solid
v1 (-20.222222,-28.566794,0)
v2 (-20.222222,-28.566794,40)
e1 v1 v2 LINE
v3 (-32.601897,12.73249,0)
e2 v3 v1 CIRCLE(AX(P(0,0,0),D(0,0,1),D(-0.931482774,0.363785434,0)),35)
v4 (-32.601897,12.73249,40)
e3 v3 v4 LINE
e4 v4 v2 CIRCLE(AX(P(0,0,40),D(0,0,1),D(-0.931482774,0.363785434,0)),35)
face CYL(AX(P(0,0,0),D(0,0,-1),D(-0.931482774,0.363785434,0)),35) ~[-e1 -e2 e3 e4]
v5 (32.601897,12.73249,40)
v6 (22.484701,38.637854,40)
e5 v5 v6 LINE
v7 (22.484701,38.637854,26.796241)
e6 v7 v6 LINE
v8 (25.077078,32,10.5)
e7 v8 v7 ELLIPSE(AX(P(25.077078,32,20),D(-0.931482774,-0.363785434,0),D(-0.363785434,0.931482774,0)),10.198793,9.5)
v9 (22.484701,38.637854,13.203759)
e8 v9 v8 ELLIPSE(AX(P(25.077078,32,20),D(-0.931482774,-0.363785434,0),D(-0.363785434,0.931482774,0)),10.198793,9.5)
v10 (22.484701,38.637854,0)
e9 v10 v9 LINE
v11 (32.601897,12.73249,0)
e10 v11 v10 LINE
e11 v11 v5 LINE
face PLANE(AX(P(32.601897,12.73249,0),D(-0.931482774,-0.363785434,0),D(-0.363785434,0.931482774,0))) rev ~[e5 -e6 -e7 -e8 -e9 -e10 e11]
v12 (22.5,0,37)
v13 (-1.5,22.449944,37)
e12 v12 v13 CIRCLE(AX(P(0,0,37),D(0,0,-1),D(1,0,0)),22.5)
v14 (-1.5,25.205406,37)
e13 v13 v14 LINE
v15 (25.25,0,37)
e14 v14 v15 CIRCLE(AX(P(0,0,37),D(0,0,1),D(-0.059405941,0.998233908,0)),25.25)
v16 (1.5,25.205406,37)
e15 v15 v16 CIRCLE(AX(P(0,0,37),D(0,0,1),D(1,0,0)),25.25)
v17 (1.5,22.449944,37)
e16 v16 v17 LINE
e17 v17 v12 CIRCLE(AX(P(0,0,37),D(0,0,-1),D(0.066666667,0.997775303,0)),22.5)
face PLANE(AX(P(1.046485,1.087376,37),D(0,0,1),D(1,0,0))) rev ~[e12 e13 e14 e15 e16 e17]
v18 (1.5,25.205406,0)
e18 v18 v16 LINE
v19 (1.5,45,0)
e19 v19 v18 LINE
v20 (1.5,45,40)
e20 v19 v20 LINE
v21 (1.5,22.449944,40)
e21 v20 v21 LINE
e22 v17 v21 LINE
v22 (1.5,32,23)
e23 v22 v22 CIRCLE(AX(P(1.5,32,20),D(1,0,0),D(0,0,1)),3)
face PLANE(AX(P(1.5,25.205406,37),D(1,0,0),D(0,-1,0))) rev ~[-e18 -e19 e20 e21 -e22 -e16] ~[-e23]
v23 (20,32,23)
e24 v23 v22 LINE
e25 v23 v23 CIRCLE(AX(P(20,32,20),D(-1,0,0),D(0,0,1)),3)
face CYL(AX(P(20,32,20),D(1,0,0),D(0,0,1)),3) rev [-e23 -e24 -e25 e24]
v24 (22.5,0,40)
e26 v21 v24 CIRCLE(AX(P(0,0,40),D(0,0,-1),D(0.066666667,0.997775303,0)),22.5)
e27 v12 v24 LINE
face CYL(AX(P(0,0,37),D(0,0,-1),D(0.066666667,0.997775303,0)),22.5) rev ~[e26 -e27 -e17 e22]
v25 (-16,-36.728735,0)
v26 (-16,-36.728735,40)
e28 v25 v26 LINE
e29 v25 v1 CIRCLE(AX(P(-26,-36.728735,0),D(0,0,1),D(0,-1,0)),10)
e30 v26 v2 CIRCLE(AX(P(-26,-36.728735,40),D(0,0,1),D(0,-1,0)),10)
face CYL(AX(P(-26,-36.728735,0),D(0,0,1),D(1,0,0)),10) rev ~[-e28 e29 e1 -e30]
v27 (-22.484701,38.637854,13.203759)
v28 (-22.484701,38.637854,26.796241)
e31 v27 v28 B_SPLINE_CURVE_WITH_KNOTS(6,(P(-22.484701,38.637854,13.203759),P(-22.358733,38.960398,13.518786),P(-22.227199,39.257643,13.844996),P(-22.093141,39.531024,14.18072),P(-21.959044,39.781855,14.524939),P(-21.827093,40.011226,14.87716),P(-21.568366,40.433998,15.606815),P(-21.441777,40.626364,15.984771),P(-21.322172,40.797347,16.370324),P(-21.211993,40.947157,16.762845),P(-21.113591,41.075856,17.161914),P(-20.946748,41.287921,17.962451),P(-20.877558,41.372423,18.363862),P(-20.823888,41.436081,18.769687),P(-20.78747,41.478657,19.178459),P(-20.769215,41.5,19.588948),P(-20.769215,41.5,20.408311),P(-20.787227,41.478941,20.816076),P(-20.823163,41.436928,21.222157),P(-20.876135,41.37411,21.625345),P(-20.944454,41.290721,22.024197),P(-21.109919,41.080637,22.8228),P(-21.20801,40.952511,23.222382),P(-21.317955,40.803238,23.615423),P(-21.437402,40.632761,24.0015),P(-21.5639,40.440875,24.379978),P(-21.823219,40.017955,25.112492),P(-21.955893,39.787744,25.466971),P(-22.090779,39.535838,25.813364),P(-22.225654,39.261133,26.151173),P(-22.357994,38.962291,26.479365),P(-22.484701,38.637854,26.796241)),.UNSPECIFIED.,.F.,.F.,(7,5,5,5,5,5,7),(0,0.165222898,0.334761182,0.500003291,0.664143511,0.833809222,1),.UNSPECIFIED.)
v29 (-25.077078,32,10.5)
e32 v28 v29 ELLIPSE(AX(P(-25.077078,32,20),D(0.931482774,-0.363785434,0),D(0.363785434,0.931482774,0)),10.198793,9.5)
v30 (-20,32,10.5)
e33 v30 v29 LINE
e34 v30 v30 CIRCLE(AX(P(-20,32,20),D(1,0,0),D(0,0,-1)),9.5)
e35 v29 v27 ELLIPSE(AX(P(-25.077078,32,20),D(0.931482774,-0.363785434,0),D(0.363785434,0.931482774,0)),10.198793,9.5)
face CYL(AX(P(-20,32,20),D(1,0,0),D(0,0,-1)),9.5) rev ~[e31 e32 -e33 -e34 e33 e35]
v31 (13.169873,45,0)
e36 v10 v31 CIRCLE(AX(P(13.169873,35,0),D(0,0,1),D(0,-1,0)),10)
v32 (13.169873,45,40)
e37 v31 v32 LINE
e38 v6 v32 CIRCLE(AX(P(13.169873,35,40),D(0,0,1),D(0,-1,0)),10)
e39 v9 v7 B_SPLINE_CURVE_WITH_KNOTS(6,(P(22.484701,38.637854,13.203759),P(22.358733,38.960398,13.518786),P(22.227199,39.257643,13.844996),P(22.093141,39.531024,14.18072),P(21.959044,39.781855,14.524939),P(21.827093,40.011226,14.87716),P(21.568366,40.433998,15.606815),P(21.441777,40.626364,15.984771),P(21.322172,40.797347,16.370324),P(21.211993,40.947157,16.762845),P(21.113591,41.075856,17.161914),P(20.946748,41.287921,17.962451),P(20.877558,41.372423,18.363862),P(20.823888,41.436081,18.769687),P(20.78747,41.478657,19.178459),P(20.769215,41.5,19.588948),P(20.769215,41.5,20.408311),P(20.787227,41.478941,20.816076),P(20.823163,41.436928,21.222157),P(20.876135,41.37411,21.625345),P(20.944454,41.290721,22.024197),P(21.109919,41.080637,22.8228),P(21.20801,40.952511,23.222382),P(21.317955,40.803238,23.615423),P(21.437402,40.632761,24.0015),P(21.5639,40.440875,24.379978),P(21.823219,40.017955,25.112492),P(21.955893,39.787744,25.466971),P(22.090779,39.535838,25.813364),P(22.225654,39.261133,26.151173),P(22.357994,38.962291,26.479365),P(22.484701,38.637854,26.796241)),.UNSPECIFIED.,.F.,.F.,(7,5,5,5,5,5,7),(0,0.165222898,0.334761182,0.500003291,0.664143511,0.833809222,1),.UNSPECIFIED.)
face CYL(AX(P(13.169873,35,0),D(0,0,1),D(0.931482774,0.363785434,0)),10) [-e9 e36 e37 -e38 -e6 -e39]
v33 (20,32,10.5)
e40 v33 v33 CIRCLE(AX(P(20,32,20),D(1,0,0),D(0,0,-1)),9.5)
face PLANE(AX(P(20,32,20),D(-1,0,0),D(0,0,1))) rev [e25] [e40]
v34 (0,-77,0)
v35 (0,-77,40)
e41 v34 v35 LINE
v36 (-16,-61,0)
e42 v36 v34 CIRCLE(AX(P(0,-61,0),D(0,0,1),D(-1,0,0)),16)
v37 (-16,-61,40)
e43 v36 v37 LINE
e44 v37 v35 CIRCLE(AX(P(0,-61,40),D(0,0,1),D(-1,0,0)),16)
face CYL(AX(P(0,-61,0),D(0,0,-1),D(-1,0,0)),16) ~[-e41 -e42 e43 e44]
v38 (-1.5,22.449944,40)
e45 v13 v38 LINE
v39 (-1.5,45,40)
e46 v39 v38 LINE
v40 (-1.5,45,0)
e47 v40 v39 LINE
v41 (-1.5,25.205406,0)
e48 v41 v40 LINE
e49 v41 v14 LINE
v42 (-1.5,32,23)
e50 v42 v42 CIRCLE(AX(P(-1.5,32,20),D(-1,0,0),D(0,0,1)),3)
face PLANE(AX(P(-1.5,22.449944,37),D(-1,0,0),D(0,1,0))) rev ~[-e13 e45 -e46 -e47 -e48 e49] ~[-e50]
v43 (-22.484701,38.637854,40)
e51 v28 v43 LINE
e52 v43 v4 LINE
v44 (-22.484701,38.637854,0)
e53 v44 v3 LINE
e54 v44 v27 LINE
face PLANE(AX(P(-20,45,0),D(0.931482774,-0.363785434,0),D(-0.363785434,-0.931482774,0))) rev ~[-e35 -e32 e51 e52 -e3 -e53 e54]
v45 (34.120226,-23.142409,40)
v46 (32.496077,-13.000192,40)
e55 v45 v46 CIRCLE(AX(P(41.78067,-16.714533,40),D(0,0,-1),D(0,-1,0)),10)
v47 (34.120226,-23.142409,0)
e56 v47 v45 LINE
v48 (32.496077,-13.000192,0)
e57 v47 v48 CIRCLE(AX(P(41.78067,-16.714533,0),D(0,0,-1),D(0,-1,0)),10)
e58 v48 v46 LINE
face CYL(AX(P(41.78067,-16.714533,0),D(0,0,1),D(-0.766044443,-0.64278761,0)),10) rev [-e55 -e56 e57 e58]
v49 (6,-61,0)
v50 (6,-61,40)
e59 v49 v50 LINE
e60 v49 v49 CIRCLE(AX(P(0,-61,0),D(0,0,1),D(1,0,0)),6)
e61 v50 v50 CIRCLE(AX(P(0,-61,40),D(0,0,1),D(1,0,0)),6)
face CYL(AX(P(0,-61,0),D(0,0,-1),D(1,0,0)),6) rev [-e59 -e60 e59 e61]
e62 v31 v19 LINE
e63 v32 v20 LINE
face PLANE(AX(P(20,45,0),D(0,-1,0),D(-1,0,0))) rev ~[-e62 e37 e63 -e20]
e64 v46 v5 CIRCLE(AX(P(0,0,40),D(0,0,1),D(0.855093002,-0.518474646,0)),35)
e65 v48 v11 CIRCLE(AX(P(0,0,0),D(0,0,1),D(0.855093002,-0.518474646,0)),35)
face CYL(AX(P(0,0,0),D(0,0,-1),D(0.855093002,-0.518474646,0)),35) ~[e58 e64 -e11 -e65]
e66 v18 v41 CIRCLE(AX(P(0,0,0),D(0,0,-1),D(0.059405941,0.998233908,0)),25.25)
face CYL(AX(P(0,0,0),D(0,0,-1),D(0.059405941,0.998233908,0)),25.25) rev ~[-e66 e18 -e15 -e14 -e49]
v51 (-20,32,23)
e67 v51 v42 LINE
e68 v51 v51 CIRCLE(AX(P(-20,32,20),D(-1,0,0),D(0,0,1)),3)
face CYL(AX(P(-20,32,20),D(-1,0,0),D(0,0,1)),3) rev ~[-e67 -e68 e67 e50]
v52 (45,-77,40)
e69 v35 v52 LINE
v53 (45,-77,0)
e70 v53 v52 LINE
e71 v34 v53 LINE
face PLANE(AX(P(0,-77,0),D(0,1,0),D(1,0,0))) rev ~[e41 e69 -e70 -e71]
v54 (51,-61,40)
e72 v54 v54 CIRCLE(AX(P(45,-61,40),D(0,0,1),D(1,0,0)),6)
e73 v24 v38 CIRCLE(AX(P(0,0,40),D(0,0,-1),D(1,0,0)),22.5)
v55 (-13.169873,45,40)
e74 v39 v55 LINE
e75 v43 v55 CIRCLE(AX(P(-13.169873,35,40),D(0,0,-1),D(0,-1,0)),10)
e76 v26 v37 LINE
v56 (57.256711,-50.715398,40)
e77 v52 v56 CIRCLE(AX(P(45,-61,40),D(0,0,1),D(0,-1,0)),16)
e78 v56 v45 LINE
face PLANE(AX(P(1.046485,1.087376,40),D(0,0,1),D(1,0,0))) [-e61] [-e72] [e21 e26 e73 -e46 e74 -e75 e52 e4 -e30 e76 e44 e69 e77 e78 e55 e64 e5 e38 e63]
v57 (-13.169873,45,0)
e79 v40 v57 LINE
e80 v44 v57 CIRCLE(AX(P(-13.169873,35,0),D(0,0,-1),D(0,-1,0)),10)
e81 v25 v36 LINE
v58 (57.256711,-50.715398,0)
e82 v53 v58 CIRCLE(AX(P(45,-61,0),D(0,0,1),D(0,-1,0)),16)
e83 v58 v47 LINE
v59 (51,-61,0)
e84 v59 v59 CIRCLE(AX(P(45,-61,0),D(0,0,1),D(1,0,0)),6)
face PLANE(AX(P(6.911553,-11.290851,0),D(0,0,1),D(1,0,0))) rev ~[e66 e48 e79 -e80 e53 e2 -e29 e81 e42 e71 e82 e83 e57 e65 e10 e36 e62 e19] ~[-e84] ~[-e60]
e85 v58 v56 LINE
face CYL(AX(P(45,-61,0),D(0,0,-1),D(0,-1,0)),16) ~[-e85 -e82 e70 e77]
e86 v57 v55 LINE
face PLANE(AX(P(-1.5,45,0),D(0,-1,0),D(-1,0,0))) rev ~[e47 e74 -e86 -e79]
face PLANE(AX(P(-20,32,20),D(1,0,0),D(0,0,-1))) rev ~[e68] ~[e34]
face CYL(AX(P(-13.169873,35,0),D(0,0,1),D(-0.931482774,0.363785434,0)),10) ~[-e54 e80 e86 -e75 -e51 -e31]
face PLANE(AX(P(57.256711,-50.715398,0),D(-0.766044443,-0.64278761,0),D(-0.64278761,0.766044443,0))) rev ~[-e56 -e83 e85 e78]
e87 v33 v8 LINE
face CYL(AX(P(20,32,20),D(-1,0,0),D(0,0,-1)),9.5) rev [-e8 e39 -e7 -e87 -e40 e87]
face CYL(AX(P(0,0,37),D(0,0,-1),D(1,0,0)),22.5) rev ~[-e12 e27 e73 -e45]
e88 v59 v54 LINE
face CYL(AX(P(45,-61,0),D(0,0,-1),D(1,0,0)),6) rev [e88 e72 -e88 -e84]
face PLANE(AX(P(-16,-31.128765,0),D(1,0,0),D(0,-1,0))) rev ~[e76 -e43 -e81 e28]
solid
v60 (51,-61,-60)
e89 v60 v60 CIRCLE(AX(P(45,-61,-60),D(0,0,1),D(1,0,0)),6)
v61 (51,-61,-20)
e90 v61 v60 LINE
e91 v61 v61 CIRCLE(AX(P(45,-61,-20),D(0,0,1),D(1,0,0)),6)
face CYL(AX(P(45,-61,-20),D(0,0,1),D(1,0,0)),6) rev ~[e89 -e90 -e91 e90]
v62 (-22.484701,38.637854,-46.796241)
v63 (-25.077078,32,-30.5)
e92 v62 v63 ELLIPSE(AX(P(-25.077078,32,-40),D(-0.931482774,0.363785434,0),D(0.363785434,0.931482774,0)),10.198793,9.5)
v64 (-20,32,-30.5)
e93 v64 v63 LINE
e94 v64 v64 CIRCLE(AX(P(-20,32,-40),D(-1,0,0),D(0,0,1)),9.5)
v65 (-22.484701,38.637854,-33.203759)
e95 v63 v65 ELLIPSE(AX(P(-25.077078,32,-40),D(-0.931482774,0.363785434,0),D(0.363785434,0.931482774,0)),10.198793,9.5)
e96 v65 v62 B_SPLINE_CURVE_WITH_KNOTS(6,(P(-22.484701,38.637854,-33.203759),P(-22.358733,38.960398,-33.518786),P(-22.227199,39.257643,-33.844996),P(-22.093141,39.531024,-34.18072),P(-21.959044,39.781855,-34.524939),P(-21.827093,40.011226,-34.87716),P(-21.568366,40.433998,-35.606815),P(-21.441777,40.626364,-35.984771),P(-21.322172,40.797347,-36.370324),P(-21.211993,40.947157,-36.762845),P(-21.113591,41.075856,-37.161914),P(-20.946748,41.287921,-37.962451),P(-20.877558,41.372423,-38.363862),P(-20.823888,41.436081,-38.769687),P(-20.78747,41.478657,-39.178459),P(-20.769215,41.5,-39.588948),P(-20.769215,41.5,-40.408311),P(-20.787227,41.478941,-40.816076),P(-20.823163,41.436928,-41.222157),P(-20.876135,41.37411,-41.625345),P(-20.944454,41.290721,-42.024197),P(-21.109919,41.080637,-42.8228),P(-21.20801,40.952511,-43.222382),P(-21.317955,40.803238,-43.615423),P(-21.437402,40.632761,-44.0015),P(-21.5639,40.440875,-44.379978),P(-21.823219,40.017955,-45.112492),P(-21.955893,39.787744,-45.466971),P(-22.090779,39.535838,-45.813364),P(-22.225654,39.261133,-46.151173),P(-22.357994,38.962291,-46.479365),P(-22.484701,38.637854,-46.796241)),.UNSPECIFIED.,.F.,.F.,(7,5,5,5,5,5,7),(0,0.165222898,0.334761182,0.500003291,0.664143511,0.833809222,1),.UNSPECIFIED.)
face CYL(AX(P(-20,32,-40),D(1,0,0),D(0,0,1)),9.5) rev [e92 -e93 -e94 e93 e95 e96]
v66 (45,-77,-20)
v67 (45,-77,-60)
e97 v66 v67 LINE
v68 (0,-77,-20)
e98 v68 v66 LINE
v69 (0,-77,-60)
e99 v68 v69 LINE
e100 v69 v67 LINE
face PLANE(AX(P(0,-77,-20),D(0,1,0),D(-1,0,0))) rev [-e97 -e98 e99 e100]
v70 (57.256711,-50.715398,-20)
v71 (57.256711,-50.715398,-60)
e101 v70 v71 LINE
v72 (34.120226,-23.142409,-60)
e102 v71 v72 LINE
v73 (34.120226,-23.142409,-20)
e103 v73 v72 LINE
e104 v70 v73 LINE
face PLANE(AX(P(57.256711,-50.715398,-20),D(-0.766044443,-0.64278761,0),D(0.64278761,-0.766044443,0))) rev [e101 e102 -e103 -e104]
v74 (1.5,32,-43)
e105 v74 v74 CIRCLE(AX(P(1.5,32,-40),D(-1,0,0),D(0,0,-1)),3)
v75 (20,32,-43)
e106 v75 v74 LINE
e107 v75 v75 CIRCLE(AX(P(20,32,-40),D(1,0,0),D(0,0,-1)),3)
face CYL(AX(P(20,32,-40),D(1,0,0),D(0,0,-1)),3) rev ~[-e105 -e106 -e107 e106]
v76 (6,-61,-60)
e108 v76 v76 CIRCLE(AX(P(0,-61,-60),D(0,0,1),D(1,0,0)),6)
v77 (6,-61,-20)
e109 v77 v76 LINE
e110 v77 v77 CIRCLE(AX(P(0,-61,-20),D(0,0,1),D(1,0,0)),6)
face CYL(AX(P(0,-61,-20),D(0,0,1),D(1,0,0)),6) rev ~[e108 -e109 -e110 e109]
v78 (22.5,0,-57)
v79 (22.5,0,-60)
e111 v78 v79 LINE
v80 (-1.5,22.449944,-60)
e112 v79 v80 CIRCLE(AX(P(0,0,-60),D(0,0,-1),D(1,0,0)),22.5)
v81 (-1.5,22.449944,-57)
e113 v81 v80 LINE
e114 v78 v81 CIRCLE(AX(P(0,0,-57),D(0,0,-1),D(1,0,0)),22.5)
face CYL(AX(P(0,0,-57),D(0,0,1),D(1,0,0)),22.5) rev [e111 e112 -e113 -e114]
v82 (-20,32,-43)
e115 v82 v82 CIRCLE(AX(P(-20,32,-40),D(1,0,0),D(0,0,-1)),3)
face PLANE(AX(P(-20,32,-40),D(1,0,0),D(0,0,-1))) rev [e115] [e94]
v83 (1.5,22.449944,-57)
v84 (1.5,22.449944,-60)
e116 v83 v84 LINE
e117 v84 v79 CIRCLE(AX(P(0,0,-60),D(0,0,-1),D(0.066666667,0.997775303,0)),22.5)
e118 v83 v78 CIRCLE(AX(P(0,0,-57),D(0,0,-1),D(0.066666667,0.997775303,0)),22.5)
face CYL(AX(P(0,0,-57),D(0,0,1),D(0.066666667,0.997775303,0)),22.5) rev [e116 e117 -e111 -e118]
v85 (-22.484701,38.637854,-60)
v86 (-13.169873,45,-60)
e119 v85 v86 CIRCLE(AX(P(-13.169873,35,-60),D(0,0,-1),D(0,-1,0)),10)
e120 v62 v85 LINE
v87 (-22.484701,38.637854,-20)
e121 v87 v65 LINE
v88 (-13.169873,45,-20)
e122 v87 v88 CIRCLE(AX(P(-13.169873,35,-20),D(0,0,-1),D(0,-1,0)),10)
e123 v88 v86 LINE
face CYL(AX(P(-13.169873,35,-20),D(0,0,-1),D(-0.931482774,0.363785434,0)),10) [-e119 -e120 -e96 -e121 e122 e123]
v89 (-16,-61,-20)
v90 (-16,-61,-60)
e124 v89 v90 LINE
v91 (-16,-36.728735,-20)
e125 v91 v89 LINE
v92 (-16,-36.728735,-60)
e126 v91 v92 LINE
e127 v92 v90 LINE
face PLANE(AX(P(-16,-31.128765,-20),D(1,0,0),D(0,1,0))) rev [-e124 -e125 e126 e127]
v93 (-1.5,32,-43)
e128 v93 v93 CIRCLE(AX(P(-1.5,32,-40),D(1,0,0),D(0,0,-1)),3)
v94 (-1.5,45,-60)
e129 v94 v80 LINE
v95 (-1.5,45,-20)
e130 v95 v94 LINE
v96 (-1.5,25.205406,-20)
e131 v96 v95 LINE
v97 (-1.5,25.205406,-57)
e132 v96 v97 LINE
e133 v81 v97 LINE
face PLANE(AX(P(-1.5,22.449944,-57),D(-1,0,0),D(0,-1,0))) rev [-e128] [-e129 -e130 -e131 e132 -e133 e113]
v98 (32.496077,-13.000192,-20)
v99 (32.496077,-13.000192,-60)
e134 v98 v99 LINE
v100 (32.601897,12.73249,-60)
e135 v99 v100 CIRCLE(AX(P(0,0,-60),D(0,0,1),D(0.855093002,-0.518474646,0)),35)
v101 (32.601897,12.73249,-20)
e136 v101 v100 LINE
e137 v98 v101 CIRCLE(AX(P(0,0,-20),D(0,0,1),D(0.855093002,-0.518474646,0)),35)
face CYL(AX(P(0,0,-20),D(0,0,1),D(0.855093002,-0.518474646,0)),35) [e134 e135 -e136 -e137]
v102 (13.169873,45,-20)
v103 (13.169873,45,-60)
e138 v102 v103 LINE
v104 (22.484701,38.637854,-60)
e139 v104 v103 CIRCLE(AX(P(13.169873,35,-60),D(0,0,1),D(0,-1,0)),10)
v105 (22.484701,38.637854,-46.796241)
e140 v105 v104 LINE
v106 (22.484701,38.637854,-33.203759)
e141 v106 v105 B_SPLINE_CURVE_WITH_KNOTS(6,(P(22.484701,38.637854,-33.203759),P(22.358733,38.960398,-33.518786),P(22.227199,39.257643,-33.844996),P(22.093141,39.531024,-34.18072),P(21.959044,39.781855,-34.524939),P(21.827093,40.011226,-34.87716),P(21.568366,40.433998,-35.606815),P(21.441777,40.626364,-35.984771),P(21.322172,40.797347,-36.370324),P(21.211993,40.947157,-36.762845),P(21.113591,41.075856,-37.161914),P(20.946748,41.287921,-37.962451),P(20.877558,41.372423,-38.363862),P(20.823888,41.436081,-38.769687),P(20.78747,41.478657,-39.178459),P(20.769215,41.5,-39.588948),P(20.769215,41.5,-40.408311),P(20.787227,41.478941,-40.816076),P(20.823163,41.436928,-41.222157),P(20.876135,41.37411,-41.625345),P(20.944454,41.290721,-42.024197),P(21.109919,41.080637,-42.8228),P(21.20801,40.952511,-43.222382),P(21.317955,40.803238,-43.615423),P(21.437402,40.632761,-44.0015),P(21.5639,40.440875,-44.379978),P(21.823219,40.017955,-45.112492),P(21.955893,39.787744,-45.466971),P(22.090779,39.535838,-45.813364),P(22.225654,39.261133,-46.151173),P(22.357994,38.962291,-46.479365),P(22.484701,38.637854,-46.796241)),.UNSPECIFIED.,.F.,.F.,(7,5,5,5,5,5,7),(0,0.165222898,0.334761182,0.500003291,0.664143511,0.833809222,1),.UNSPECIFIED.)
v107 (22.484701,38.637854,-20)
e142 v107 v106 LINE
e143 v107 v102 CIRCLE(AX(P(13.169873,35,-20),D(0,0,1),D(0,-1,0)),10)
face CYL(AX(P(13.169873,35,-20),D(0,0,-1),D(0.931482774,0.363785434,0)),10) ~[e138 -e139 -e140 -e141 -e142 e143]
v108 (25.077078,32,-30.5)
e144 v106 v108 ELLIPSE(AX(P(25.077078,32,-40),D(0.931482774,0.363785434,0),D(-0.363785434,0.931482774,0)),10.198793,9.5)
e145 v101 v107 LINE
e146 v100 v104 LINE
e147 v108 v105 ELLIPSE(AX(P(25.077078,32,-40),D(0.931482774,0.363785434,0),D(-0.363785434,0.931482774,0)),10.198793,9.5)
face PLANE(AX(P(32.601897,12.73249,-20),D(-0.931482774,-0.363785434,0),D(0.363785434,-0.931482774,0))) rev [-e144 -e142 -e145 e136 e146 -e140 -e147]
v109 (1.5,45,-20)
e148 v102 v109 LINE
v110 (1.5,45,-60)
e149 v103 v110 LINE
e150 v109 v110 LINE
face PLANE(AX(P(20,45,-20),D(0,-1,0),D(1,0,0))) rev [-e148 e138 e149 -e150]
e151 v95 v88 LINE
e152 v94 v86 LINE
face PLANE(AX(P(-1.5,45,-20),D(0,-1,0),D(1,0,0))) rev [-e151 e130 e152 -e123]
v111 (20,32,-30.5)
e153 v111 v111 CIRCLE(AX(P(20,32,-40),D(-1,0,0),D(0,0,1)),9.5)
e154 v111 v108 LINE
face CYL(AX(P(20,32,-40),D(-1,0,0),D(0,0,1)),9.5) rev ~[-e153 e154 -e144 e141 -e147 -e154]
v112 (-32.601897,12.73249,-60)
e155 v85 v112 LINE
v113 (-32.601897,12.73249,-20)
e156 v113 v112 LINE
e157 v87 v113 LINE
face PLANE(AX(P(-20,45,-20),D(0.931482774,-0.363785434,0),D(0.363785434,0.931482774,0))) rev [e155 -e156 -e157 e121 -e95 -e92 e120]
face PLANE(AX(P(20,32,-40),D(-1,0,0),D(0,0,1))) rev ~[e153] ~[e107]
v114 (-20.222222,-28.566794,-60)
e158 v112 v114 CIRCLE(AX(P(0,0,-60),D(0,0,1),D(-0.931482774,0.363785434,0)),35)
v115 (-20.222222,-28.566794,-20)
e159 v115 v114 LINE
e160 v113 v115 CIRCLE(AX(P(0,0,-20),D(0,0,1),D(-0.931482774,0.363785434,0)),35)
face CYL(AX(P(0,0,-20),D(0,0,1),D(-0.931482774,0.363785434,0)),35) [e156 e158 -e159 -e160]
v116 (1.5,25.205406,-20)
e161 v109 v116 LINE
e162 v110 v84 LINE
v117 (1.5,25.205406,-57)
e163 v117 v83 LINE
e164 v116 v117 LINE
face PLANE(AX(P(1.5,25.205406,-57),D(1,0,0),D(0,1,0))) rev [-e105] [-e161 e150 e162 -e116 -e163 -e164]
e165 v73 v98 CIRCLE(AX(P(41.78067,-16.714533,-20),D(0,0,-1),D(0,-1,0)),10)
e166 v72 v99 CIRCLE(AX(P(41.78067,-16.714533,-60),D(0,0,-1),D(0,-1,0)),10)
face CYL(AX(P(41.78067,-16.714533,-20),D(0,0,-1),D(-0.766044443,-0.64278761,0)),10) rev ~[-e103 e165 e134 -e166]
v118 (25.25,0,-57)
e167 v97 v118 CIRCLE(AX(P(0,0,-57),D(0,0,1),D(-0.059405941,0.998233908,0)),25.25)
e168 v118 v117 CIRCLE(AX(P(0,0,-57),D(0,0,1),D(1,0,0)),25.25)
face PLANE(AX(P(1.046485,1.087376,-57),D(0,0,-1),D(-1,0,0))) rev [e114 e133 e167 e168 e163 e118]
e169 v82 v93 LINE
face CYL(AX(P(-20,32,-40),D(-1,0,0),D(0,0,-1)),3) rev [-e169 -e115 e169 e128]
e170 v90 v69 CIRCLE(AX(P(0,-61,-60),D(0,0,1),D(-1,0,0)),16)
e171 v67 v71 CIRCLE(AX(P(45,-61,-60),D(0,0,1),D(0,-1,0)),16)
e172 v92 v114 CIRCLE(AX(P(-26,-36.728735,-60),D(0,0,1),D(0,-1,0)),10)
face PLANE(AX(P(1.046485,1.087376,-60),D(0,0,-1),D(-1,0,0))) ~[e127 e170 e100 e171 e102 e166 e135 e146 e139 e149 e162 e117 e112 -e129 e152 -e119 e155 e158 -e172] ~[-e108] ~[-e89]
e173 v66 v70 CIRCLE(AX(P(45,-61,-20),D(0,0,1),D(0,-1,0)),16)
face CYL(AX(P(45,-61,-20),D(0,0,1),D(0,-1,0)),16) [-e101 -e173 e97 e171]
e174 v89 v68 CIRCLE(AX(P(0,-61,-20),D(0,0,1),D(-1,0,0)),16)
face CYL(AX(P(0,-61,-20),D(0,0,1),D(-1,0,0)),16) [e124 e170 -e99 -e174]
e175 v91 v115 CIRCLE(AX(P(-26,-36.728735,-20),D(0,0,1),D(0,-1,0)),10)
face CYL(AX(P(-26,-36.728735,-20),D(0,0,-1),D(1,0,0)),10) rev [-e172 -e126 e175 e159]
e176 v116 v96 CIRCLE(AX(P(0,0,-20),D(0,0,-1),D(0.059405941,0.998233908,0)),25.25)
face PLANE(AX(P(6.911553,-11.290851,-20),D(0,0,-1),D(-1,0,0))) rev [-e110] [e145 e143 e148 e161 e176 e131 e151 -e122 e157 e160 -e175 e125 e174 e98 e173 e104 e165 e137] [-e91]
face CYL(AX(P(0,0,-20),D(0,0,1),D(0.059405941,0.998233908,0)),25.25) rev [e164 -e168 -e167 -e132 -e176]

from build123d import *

# Parameters (mm, degrees)
SKETCH1_R           = 6
BOSS_EXTRUDE3_DEPTH = 40
FILLET2_R           = 10
SKETCH5_R           = 9.5
CUT_EXTRUDE1_DEPTH  = 10
SKETCH6_R           = 3
CUT_EXTRUDE2_DEPTH  = 21.5
BOSS_EXTRUDE4_START = -3
BOSS_EXTRUDE4_DEPTH = 3


with BuildPart() as part:
    # Sketch1 → Boss-Extrude3 (new body)
    with BuildSketch(Plane.XY):
        with BuildLine():
            Line((-16, -31.128764833), (-16, -61))
            ThreePointArc((-16, -61), (-11.313708499, -72.313708499), (0, -77))
            Line((0, -77), (45, -77))
            ThreePointArc((45, -77), (59.500924593, -67.761892188), (57.25671109, -50.715398245))
            Line((57.25671109, -50.715398245), (29.928255065, -18.146612597))
            ThreePointArc((29.928255065, -18.146612597), (34.869538701, -3.019150675), (32.601897088, 12.732490183))
            Line((32.601897088, 12.732490183), (20, 45))
            Line((20, 45), (1.5, 45))
            Line((1.5, 45), (1.5, 25.205406166))
            ThreePointArc((1.5, 25.205406166), (0, -25.25), (-1.5, 25.205406166))
            Line((-1.5, 25.205406166), (-1.5, 45))
            Line((-1.5, 45), (-20, 45))
            Line((-20, 45), (-32.601897088, 12.732490183))
            ThreePointArc((-32.601897088, 12.732490183), (-32.733599298, -12.389974858), (-16, -31.128764833))
        make_face()
        with Locations((0, -61)):
            Circle(SKETCH1_R, mode=Mode.SUBTRACT)
        with Locations((45, -61)):
            Circle(SKETCH1_R, mode=Mode.SUBTRACT)
    extrude(amount=BOSS_EXTRUDE3_DEPTH)

    # Fillet2
    fillet2_edges = [part.edges().sort_by_distance(p)[0] for p in [
        (-20, 45, 20),
        (20, 45, 20),
        (29.928255065, -18.146612597, 20),
        (-16, -31.128764833, 20),
    ]]
    fillet(fillet2_edges, radius=FILLET2_R)

    # Sketch5 → Cut-Extrude1 (cut)
    with BuildSketch(Plane(origin=(-20, 0, 0), x_dir=(0, 0, -1), z_dir=(1, 0, 0))):
        with Locations((-20, 32)):
            Circle(SKETCH5_R)
    cut_extrude1 = extrude(amount=-CUT_EXTRUDE1_DEPTH, mode=Mode.SUBTRACT)

    # Sketch6 → Cut-Extrude2 (cut)
    with BuildSketch(Plane.ZY.offset(20)):
        with Locations((20, 32)):
            Circle(SKETCH6_R)
    cut_extrude2 = extrude(amount=-CUT_EXTRUDE2_DEPTH, mode=Mode.SUBTRACT)

    # Mirror3: Cut-Extrude1, Cut-Extrude2 across plane
    add(cut_extrude1.mirror(Plane(origin=(0, 0, 0), x_dir=(0, 0, 1), z_dir=(1, 0, 0))), mode=Mode.SUBTRACT)
    add(cut_extrude2.mirror(Plane(origin=(0, 0, 0), x_dir=(0, 0, 1), z_dir=(1, 0, 0))), mode=Mode.SUBTRACT)

    # Sketch7 → Boss-Extrude4 (add)
    with BuildSketch(Plane.XY.offset(40).offset(BOSS_EXTRUDE4_START)):
        with BuildLine():
            ThreePointArc((22.5, 0), (-15.370426149, -16.431676725), (-1.5, 22.449944321))
            Line((-1.5, 22.449944321), (-1.5, 25.205406166))
            ThreePointArc((-1.5, 25.205406166), (-17.315996939, -18.377125727), (25.25, 0))
            ThreePointArc((25.25, 0), (18.377125727, 17.315996939), (1.5, 25.205406166))
            Line((1.5, 25.205406166), (1.5, 22.449944321))
            ThreePointArc((1.5, 22.449944321), (16.431676725, 15.370426149), (22.5, 0))
        make_face()
    extrude(amount=BOSS_EXTRUDE4_DEPTH)


with BuildPart() as body_2:
    # Mirror6: mirrored copy
    add(part.part.mirror(Plane.XY.offset(-10)))


solid = Compound([part.part, body_2.part])
